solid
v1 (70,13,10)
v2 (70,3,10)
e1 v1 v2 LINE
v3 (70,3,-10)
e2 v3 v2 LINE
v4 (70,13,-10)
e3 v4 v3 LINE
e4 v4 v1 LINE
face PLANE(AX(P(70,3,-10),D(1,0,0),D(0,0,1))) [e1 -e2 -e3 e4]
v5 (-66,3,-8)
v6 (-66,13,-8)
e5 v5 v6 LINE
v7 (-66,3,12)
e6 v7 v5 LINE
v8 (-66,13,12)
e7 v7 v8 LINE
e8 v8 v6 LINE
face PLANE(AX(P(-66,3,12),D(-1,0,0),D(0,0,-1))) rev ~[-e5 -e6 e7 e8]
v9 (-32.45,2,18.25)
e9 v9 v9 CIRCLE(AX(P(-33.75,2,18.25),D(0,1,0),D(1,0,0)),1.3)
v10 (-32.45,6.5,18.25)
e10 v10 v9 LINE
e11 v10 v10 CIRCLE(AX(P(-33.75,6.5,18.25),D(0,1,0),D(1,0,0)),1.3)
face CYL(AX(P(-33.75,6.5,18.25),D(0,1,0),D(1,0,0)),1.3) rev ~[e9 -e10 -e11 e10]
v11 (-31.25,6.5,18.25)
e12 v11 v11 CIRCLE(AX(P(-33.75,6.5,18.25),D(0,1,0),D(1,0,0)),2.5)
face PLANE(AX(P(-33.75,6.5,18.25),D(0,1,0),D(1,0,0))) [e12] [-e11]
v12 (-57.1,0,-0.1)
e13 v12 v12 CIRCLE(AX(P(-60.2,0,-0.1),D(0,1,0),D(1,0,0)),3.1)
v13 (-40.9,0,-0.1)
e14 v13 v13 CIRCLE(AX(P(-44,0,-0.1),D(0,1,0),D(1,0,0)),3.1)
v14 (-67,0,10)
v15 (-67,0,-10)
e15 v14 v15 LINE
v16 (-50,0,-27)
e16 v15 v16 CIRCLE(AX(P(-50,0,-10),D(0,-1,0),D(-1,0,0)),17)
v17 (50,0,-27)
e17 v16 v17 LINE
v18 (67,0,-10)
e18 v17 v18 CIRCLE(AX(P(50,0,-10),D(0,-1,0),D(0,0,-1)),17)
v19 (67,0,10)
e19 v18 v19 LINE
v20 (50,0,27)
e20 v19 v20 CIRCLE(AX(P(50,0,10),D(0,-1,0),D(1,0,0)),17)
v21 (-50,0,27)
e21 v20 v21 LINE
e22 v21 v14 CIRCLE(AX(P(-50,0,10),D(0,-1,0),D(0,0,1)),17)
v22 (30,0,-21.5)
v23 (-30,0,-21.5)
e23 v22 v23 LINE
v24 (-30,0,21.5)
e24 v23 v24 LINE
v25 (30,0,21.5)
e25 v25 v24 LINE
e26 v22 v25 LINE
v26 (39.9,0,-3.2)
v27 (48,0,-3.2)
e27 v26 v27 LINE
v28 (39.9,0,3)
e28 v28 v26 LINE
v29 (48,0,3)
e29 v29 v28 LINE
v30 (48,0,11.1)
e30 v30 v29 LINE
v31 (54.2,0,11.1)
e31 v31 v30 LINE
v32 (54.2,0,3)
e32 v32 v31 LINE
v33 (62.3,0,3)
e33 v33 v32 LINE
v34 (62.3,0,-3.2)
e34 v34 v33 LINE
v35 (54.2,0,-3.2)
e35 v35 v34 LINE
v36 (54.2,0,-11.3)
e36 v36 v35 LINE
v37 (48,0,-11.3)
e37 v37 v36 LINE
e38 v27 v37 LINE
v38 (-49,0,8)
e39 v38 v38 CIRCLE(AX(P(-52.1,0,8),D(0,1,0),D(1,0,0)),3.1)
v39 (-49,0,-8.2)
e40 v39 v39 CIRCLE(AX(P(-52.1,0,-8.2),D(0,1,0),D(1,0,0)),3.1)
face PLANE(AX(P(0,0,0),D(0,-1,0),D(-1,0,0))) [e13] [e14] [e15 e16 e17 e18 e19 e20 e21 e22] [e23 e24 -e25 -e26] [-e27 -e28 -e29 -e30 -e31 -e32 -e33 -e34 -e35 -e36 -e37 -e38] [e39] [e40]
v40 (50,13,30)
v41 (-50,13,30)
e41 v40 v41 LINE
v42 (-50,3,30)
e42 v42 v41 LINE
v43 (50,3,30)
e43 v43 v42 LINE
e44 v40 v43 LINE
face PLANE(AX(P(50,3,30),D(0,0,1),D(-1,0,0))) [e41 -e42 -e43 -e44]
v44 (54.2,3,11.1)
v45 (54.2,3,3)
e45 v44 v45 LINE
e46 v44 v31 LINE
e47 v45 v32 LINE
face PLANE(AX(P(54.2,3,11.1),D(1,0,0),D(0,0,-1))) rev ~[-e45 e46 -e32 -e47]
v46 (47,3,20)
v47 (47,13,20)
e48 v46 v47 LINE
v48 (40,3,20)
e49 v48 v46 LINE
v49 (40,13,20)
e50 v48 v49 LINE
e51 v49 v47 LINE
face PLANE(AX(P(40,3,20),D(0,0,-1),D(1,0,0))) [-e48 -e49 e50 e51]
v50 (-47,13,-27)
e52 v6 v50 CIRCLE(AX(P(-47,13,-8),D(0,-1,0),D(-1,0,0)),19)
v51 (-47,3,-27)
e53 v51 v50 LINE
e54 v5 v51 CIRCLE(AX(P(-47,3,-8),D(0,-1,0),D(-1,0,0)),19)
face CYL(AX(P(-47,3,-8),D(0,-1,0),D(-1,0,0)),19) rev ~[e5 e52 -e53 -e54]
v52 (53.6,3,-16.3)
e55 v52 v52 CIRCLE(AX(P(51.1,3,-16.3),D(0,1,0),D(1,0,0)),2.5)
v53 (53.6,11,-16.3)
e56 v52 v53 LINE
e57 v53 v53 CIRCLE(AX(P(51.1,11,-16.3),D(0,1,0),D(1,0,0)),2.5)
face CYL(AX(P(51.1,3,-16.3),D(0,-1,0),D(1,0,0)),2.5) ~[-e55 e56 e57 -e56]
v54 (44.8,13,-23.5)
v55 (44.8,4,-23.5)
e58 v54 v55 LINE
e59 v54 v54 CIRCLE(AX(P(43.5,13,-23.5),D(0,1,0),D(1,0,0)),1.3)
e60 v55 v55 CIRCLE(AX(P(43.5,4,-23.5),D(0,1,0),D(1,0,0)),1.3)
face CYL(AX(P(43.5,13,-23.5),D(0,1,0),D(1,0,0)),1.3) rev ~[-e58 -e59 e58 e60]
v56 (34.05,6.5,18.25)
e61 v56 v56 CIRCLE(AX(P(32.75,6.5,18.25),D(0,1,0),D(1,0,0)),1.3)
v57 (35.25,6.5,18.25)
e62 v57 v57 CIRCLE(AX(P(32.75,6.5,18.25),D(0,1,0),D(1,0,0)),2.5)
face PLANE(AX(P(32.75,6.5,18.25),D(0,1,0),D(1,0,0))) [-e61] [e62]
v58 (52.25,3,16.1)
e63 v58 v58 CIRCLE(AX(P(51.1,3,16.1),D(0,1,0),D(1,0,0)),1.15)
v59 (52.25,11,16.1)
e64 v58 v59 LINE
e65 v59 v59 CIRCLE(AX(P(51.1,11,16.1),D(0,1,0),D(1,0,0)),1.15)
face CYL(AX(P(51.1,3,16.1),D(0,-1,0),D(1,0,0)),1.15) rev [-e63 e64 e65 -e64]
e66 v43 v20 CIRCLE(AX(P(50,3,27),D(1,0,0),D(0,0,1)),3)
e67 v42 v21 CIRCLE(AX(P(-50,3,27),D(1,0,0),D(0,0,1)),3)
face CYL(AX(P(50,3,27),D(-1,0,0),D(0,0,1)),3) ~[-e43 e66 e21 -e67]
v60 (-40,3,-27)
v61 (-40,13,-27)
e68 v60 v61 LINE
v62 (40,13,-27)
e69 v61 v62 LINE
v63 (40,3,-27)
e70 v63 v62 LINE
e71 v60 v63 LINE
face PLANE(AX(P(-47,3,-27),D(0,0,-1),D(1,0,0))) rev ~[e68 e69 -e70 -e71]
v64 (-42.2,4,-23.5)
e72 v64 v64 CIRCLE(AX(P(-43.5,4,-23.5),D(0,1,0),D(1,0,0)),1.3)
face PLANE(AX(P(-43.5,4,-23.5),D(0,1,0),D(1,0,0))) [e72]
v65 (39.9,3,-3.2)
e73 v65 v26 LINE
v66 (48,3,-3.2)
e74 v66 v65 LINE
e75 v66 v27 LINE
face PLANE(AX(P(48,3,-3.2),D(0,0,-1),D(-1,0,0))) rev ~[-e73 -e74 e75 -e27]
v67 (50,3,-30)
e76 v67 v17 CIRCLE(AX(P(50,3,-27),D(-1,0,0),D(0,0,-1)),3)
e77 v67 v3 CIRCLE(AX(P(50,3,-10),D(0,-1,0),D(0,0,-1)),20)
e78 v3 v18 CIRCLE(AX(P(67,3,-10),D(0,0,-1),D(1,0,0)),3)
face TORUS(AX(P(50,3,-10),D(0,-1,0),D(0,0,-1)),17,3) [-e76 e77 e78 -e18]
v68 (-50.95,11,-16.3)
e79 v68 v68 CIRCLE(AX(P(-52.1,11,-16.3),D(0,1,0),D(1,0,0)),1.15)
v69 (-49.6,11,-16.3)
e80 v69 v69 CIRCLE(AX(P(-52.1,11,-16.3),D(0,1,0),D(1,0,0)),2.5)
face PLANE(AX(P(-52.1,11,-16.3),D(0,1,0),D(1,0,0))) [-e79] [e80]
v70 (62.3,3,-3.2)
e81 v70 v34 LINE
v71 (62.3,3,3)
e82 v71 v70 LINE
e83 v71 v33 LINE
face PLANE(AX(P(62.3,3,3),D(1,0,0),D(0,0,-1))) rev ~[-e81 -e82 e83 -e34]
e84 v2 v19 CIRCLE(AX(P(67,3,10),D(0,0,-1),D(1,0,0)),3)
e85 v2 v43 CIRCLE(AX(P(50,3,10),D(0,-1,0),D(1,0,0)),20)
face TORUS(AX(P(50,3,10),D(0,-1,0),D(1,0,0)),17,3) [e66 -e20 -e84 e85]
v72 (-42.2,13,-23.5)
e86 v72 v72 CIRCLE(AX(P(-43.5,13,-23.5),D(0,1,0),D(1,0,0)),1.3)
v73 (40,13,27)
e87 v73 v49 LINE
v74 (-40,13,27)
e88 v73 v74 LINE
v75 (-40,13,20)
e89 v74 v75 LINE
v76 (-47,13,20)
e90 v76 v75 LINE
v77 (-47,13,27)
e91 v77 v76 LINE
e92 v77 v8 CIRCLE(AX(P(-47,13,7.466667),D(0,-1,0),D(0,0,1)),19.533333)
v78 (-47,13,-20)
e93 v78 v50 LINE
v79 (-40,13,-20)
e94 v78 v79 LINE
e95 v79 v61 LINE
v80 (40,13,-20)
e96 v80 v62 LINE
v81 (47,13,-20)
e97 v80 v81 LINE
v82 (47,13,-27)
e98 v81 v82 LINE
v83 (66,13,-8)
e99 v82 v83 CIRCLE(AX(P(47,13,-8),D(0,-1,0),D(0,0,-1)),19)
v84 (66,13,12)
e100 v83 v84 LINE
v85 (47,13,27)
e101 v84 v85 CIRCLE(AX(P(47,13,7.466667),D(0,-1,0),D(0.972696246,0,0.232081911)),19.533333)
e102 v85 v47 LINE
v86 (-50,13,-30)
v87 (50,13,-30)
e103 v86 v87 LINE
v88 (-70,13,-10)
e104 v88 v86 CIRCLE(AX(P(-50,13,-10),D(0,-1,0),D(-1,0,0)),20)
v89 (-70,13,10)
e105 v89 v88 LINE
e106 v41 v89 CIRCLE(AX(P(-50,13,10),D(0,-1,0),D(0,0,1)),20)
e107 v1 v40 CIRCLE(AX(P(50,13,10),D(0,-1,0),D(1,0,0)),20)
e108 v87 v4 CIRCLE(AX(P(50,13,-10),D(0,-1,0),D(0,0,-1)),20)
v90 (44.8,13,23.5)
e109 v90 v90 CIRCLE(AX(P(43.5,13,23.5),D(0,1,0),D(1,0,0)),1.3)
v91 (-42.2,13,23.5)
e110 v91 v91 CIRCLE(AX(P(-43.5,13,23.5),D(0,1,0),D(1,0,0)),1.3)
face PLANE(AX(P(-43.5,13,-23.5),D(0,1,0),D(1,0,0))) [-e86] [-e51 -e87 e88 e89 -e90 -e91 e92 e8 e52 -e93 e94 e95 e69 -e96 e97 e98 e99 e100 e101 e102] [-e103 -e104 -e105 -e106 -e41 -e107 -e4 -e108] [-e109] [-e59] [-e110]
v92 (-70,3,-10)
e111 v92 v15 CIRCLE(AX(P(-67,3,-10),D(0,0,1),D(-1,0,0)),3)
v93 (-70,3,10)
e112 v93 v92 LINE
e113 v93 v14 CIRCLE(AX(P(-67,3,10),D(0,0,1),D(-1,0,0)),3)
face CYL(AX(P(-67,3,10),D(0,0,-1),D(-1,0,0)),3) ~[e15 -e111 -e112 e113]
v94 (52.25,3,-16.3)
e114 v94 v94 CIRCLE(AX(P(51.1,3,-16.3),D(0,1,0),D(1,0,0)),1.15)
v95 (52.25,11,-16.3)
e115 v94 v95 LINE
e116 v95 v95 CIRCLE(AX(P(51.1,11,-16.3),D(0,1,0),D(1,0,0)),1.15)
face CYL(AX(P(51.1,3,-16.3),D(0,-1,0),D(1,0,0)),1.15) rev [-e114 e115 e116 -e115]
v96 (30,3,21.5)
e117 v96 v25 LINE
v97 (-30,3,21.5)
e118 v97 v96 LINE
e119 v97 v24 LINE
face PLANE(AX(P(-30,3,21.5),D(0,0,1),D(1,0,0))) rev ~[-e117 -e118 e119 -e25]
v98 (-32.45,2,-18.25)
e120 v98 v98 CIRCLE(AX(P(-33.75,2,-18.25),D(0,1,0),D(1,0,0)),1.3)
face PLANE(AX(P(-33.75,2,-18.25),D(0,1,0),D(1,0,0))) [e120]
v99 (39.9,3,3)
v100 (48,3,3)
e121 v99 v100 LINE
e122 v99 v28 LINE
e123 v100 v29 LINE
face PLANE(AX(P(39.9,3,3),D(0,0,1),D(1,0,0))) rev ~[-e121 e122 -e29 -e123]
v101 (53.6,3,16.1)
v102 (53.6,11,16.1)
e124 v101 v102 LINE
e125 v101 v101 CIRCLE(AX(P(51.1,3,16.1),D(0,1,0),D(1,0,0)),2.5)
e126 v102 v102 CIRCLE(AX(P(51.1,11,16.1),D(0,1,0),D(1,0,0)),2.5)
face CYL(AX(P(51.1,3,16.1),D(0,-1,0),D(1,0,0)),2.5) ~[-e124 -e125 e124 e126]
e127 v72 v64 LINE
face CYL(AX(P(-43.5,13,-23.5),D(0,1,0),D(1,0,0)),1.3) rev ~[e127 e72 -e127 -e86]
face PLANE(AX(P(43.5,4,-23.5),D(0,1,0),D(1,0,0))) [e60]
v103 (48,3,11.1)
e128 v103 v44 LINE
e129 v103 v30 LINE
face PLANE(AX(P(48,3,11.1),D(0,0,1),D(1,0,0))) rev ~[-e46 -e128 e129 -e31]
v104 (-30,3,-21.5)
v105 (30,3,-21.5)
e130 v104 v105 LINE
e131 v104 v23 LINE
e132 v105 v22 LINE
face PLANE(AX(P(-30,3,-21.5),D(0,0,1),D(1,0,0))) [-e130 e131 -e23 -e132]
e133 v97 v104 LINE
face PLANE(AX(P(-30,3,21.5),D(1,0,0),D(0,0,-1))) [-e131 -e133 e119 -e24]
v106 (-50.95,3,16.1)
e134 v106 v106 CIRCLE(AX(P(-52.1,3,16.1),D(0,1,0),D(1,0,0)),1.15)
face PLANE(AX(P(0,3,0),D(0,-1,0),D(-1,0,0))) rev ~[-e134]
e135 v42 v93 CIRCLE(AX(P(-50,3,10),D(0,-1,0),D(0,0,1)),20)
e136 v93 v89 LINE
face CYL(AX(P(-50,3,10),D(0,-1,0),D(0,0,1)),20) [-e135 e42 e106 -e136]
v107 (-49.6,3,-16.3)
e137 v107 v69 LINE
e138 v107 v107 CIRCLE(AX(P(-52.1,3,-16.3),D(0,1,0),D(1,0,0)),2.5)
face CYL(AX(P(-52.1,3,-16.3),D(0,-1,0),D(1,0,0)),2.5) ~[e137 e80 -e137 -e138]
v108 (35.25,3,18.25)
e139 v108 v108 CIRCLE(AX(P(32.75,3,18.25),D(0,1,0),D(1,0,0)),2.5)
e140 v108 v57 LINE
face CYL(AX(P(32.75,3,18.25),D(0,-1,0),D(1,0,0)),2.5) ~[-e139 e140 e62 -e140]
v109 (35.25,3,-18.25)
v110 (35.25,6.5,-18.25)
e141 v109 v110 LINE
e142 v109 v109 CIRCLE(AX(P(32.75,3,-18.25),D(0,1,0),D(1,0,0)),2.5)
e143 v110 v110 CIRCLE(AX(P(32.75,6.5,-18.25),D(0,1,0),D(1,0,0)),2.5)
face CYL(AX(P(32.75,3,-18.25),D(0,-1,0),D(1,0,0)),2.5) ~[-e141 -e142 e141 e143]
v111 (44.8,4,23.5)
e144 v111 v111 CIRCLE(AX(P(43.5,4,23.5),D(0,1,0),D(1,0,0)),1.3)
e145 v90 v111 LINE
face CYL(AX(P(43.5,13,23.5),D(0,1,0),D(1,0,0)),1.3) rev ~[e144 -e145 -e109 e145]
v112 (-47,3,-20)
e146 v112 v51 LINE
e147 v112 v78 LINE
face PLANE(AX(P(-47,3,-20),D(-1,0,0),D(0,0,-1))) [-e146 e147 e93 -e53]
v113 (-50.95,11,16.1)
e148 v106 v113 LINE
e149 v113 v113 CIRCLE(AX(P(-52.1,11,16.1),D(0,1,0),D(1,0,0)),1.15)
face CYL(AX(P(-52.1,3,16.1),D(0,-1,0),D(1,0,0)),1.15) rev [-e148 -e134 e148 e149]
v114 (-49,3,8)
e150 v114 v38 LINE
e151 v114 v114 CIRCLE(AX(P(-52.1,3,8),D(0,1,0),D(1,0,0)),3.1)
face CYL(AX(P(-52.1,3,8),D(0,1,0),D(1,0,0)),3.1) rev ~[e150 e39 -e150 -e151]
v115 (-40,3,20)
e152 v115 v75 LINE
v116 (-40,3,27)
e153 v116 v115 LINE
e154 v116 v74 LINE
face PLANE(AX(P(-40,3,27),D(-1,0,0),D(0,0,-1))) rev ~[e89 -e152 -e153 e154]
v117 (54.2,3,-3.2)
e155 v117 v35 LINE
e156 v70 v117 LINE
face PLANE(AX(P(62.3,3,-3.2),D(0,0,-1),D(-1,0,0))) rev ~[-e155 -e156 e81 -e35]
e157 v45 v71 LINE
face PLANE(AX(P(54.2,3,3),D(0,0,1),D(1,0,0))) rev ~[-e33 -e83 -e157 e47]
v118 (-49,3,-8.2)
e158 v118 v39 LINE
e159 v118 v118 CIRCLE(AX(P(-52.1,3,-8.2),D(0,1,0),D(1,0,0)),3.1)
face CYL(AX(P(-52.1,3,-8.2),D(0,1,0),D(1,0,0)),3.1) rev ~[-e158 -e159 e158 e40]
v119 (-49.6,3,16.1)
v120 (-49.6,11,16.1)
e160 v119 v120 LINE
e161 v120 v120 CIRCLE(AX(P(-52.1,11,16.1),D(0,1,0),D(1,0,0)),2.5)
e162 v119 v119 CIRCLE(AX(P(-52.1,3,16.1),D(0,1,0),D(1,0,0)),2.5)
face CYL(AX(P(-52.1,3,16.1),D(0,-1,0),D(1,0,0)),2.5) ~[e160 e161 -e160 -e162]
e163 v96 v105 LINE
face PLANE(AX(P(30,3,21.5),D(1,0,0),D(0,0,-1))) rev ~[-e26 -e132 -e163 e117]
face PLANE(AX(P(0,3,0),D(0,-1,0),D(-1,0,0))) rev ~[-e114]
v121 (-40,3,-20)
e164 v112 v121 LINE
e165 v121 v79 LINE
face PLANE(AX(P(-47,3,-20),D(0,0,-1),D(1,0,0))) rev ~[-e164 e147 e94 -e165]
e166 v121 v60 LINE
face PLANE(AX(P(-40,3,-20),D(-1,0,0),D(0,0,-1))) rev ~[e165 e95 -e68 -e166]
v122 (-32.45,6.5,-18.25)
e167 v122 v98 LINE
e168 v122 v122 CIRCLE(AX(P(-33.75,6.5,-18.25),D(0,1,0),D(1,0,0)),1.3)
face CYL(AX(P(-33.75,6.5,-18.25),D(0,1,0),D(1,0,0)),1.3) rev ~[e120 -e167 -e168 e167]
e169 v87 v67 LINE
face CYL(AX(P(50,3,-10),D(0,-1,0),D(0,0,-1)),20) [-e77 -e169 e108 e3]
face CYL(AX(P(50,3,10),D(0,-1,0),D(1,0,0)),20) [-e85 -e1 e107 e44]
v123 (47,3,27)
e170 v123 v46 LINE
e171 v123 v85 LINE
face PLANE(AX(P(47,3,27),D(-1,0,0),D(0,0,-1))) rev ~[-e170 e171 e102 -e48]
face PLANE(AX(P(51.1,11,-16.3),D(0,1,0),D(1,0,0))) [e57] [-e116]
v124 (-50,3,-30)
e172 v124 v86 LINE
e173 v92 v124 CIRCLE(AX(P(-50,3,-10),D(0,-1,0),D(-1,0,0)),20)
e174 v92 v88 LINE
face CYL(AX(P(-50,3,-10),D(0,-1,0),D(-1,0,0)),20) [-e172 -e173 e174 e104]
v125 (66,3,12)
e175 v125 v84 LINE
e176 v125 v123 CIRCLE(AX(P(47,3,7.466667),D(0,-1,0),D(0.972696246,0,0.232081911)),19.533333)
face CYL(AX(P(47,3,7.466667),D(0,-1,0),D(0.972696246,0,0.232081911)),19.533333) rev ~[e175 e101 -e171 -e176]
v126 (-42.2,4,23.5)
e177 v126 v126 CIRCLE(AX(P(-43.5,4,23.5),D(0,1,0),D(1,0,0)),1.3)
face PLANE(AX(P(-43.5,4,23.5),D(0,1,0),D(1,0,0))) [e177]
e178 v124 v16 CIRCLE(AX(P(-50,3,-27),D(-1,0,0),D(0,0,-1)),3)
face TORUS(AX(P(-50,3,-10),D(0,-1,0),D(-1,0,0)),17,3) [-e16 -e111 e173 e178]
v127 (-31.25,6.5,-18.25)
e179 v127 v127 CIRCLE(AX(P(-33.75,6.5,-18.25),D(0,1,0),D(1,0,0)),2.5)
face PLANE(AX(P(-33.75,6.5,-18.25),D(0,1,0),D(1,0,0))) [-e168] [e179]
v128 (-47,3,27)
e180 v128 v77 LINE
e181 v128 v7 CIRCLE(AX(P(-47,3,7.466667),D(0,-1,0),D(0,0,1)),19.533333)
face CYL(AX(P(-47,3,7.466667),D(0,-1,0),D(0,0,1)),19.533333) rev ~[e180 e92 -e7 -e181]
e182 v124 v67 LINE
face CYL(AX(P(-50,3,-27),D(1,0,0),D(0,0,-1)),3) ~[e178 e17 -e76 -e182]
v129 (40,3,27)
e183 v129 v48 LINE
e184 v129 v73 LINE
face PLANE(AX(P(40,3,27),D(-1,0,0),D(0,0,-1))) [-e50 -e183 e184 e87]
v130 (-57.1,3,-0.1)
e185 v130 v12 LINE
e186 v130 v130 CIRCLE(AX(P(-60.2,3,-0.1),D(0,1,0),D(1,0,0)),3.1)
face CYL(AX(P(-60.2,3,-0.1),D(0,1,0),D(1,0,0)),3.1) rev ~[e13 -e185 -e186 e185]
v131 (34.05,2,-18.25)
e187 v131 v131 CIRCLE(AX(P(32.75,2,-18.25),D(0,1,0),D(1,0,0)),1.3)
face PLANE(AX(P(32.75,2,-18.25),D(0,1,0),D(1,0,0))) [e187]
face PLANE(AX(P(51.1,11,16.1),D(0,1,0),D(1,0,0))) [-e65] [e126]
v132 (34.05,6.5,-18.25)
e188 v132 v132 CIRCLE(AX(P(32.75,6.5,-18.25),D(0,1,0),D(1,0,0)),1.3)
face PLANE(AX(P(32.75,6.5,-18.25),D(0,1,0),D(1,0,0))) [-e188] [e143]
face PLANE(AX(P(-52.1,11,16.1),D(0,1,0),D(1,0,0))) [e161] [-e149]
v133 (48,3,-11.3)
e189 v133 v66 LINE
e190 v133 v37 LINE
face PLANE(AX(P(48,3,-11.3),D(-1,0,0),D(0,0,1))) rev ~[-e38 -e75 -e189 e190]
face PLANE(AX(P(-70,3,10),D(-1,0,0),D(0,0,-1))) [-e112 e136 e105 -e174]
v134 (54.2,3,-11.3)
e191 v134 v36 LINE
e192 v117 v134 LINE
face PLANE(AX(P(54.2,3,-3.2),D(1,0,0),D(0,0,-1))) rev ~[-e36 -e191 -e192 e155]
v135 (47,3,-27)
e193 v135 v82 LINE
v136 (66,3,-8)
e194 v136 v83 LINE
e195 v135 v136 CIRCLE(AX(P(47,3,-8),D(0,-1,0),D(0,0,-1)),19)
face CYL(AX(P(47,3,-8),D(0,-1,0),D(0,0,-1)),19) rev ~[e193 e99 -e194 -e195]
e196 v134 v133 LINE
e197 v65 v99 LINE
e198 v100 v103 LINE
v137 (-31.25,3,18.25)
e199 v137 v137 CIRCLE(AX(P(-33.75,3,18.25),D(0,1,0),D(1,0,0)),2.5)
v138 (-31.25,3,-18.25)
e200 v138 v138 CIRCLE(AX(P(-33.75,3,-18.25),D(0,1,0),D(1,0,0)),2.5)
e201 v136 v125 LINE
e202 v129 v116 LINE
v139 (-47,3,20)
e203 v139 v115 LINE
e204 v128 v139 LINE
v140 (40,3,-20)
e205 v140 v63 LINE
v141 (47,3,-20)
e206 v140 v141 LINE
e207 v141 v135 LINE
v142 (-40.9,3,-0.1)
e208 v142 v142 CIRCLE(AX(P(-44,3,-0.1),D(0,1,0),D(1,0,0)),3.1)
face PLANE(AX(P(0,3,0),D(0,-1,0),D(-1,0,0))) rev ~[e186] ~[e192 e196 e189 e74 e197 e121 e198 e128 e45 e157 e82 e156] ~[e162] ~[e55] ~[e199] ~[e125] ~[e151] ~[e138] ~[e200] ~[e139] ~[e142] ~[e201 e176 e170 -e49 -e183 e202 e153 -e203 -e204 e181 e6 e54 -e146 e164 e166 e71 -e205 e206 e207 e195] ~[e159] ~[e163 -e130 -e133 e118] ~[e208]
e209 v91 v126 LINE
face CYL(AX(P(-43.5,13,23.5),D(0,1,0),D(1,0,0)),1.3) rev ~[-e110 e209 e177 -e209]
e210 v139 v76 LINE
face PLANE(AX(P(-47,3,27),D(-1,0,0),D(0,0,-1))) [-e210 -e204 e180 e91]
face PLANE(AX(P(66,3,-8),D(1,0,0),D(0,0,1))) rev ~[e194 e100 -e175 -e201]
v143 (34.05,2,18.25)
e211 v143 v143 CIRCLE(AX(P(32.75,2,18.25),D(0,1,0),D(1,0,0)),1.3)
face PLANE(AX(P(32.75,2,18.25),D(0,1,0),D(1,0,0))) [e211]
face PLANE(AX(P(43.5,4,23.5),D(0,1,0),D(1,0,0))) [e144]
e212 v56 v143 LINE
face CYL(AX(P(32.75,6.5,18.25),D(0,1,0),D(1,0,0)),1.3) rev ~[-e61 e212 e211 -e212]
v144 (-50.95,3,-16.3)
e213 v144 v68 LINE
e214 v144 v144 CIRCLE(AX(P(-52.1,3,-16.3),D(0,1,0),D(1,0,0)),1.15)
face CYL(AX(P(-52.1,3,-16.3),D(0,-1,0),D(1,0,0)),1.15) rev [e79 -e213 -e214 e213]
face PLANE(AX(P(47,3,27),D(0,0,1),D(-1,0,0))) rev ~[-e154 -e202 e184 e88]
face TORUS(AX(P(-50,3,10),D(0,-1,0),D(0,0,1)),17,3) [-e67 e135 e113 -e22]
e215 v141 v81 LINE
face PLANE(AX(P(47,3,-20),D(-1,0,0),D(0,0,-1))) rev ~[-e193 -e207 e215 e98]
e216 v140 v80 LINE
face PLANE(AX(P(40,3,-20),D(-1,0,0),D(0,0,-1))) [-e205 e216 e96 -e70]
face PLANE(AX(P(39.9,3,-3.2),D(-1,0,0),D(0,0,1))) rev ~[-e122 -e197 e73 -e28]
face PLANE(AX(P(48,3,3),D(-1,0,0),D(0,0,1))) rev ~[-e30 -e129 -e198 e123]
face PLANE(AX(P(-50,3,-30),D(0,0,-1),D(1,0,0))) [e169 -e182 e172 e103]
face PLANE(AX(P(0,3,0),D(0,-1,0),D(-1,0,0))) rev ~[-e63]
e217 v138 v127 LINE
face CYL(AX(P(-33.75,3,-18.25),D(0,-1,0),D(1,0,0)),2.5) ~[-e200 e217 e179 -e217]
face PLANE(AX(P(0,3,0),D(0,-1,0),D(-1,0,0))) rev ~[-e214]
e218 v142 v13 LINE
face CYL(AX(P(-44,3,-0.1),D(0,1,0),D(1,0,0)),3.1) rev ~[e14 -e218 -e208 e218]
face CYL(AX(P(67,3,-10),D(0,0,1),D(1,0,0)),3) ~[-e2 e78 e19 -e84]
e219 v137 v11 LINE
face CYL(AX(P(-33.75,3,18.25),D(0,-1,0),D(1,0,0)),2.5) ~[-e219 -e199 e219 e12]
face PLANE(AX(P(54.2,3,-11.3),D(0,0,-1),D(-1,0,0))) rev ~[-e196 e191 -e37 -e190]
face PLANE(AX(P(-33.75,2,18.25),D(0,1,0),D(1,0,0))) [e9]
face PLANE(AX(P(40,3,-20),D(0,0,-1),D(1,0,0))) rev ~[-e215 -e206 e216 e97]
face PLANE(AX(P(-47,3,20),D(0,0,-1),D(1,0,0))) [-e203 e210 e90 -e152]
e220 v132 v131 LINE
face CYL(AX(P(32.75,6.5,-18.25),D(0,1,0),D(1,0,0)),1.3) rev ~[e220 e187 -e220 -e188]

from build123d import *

# Parameters (mm, degrees)
BOSS_EXTRUDE1_DEPTH = 3
BOSS_EXTRUDE2_DEPTH = 10
SKETCH3_W           = 60
SKETCH3_H           = 43
CUT_EXTRUDE1_DEPTH  = 5
SKETCH4_R           = 2.5
BOSS_EXTRUDE3_DEPTH = 3.5
SKETCH5_R           = 1.3
CUT_EXTRUDE2_DEPTH  = 4.5
SKETCH6_R           = 1.3
CUT_EXTRUDE3_DEPTH  = 4.5
SKETCH7_R           = 1.3
CUT_EXTRUDE4_DEPTH  = 4.5
SKETCH8_R           = 1.3
CUT_EXTRUDE5_DEPTH  = 4.5
SKETCH9_R           = 3.1
CUT_EXTRUDE6_DEPTH  = 4.5
SKETCH10_R          = 2.5
SKETCH10_R_2        = 1.15
BOSS_EXTRUDE4_DEPTH = 8
SKETCH12_W          = 7
SKETCH12_H          = 7
BOSS_EXTRUDE5_DEPTH = 10
FILLET1_R           = 3
SKETCH13_R          = 1.3
CUT_EXTRUDE7_DEPTH  = 9


with BuildPart() as part:
    # Sketch1 → Boss-Extrude1 (new body)
    with BuildSketch(Plane(origin=(0, 0, 0), x_dir=(1, 0, 0), z_dir=(0, 1, 0))):
        with BuildLine():
            Line((70, 10), (70, -10))
            ThreePointArc((70, -10), (64.142135624, -24.142135624), (50, -30))
            Line((50, -30), (-50, -30))
            ThreePointArc((-50, -30), (-64.142135624, -24.142135624), (-70, -10))
            Line((-70, -10), (-70, 10))
            ThreePointArc((-70, 10), (-64.142135624, 24.142135624), (-50, 30))
            Line((-50, 30), (50, 30))
            ThreePointArc((50, 30), (64.142135624, 24.142135624), (70, 10))
        make_face()
    extrude(amount=BOSS_EXTRUDE1_DEPTH)

    # Sketch2 → Boss-Extrude2 (add)
    with BuildSketch(Plane(origin=(0, 3, 0), x_dir=(1, 0, 0), z_dir=(0, 1, 0))):
        with BuildLine():
            Line((-50, 30), (50, 30))
            ThreePointArc((50, 30), (64.142135624, 24.142135624), (70, 10))
            Line((70, 10), (70, -10))
            ThreePointArc((70, -10), (64.142135624, -24.142135624), (50, -30))
            Line((50, -30), (-50, -30))
            ThreePointArc((-50, -30), (-64.142135624, -24.142135624), (-70, -10))
            Line((-70, -10), (-70, 10))
            ThreePointArc((-70, 10), (-64.142135624, 24.142135624), (-50, 30))
        make_face()
        with BuildLine():
            Line((-47, 27), (47, 27))
            ThreePointArc((47, 27), (60.435028843, 21.435028843), (66, 8))
            Line((66, 8), (66, -12))
            ThreePointArc((66, -12), (59.103718437, -22.798043353), (47, -27))
            Line((47, -27), (-47, -27))
            ThreePointArc((-47, -27), (-59.103718437, -22.798043353), (-66, -12))
            Line((-66, -12), (-66, 8))
            ThreePointArc((-66, 8), (-60.435028843, 21.435028843), (-47, 27))
        make_face(mode=Mode.SUBTRACT)
    extrude(amount=BOSS_EXTRUDE2_DEPTH)

    # Sketch3 → Cut-Extrude1 (cut)
    with BuildSketch(Plane(origin=(0, 3, 0), x_dir=(1, 0, 0), z_dir=(0, 1, 0))):
        Rectangle(SKETCH3_W, SKETCH3_H)
    extrude(amount=-CUT_EXTRUDE1_DEPTH, mode=Mode.SUBTRACT)

    # Sketch4 → Boss-Extrude3 (add)
    with BuildSketch(Plane(origin=(0, 3, 0), x_dir=(1, 0, 0), z_dir=(0, 1, 0))):
        with Locations((-33.75, 18.25)):
            Circle(SKETCH4_R)
        with Locations((-33.75, -18.25)):
            Circle(SKETCH4_R)
        with Locations((32.75, -18.25)):
            Circle(SKETCH4_R)
        with Locations((32.75, 18.25)):
            Circle(SKETCH4_R)
    extrude(amount=BOSS_EXTRUDE3_DEPTH)

    # Sketch5 → Cut-Extrude2 (cut)
    with BuildSketch(Plane(origin=(0, 6.5, 0), x_dir=(1, 0, 0), z_dir=(0, 1, 0))):
        with Locations((-33.75, -18.25)):
            Circle(SKETCH5_R)
    extrude(amount=-CUT_EXTRUDE2_DEPTH, mode=Mode.SUBTRACT)

    # Sketch6 → Cut-Extrude3 (cut)
    with BuildSketch(Plane(origin=(0, 6.5, 0), x_dir=(1, 0, 0), z_dir=(0, 1, 0))):
        with Locations((-33.75, 18.25)):
            Circle(SKETCH6_R)
    extrude(amount=-CUT_EXTRUDE3_DEPTH, mode=Mode.SUBTRACT)

    # Sketch7 → Cut-Extrude4 (cut)
    with BuildSketch(Plane(origin=(0, 6.5, 0), x_dir=(1, 0, 0), z_dir=(0, 1, 0))):
        with Locations((32.75, 18.25)):
            Circle(SKETCH7_R)
    extrude(amount=-CUT_EXTRUDE4_DEPTH, mode=Mode.SUBTRACT)

    # Sketch8 → Cut-Extrude5 (cut)
    with BuildSketch(Plane(origin=(0, 6.5, 0), x_dir=(1, 0, 0), z_dir=(0, 1, 0))):
        with Locations((32.75, -18.25)):
            Circle(SKETCH8_R)
    extrude(amount=-CUT_EXTRUDE5_DEPTH, mode=Mode.SUBTRACT)

    # Sketch9 → Cut-Extrude6 (cut)
    with BuildSketch(Plane(origin=(0, 3, 0), x_dir=(1, 0, 0), z_dir=(0, 1, 0))):
        with Locations((-44, 0.1)):
            Circle(SKETCH9_R)
        with Locations((-52.1, 8.2)):
            Circle(SKETCH9_R)
        with Locations((-60.2, 0.1)):
            Circle(SKETCH9_R)
        with Locations((-52.1, -8)):
            Circle(SKETCH9_R)
        Polygon((62.3, 3.2), (54.2, 3.2), (54.2, 5.1), (54.2, 11.3), (48, 11.3), (48, 5.1), (48, 3.2), (46.1, 3.2), (39.9, 3.2), (39.9, -3), (46.1, -3), (48, -3), (48, -4.9), (48, -11.1), (54.2, -11.1), (54.2, -4.9), (54.2, -3), (62.3, -3), align=None)
    extrude(amount=-CUT_EXTRUDE6_DEPTH, mode=Mode.SUBTRACT)

    # Sketch10 → Boss-Extrude4 (add)
    with BuildSketch(Plane(origin=(0, 3, 0), x_dir=(1, 0, 0), z_dir=(0, 1, 0))):
        with Locations((-52.1, -16.1)):
            Circle(SKETCH10_R)
        with Locations((-52.1, -16.1)):
            Circle(SKETCH10_R_2, mode=Mode.SUBTRACT)
        with Locations((-52.1, 16.3)):
            Circle(SKETCH10_R)
        with Locations((-52.1, 16.3)):
            Circle(SKETCH10_R_2, mode=Mode.SUBTRACT)
        with Locations((51.1, 16.3)):
            Circle(SKETCH10_R)
        with Locations((51.1, 16.3)):
            Circle(SKETCH10_R_2, mode=Mode.SUBTRACT)
        with Locations((51.1, -16.1)):
            Circle(SKETCH10_R)
        with Locations((51.1, -16.1)):
            Circle(SKETCH10_R_2, mode=Mode.SUBTRACT)
    extrude(amount=BOSS_EXTRUDE4_DEPTH)

    # Sketch12 → Boss-Extrude5 (add)
    with BuildSketch(Plane(origin=(0, 3, 0), x_dir=(1, 0, 0), z_dir=(0, 1, 0))):
        with Locations((-43.5, 23.5)):
            Rectangle(SKETCH12_W, SKETCH12_H)
        with Locations((-43.5, -23.5)):
            Rectangle(SKETCH12_W, SKETCH12_H)
        with Locations((43.5, -23.5)):
            Rectangle(SKETCH12_W, SKETCH12_H)
        with Locations((43.5, 23.5)):
            Rectangle(SKETCH12_W, SKETCH12_H)
    extrude(amount=BOSS_EXTRUDE5_DEPTH)

    # Fillet1
    fillet1_edges = [part.edges().sort_by_distance(p)[0] for p in [
        (70, 0, 0),
        (64.142135624, 0, 24.142135624),
        (0, 0, 30),
        (-64.142135624, 0, 24.142135624),
        (-70, 0, 0),
        (-64.142135624, 0, -24.142135624),
        (0, 0, -30),
        (64.142135624, 0, -24.142135624),
    ]]
    fillet(fillet1_edges, radius=FILLET1_R)

    # Sketch13 → Cut-Extrude7 (cut)
    with BuildSketch(Plane(origin=(0, 13, 0), x_dir=(1, 0, 0), z_dir=(0, 1, 0))):
        with Locations((-43.5, 23.5)):
            Circle(SKETCH13_R)
        with Locations((-43.5, -23.5)):
            Circle(SKETCH13_R)
        with Locations((43.5, -23.5)):
            Circle(SKETCH13_R)
        with Locations((43.5, 23.5)):
            Circle(SKETCH13_R)
    extrude(amount=-CUT_EXTRUDE7_DEPTH, mode=Mode.SUBTRACT)


solid = part.part
